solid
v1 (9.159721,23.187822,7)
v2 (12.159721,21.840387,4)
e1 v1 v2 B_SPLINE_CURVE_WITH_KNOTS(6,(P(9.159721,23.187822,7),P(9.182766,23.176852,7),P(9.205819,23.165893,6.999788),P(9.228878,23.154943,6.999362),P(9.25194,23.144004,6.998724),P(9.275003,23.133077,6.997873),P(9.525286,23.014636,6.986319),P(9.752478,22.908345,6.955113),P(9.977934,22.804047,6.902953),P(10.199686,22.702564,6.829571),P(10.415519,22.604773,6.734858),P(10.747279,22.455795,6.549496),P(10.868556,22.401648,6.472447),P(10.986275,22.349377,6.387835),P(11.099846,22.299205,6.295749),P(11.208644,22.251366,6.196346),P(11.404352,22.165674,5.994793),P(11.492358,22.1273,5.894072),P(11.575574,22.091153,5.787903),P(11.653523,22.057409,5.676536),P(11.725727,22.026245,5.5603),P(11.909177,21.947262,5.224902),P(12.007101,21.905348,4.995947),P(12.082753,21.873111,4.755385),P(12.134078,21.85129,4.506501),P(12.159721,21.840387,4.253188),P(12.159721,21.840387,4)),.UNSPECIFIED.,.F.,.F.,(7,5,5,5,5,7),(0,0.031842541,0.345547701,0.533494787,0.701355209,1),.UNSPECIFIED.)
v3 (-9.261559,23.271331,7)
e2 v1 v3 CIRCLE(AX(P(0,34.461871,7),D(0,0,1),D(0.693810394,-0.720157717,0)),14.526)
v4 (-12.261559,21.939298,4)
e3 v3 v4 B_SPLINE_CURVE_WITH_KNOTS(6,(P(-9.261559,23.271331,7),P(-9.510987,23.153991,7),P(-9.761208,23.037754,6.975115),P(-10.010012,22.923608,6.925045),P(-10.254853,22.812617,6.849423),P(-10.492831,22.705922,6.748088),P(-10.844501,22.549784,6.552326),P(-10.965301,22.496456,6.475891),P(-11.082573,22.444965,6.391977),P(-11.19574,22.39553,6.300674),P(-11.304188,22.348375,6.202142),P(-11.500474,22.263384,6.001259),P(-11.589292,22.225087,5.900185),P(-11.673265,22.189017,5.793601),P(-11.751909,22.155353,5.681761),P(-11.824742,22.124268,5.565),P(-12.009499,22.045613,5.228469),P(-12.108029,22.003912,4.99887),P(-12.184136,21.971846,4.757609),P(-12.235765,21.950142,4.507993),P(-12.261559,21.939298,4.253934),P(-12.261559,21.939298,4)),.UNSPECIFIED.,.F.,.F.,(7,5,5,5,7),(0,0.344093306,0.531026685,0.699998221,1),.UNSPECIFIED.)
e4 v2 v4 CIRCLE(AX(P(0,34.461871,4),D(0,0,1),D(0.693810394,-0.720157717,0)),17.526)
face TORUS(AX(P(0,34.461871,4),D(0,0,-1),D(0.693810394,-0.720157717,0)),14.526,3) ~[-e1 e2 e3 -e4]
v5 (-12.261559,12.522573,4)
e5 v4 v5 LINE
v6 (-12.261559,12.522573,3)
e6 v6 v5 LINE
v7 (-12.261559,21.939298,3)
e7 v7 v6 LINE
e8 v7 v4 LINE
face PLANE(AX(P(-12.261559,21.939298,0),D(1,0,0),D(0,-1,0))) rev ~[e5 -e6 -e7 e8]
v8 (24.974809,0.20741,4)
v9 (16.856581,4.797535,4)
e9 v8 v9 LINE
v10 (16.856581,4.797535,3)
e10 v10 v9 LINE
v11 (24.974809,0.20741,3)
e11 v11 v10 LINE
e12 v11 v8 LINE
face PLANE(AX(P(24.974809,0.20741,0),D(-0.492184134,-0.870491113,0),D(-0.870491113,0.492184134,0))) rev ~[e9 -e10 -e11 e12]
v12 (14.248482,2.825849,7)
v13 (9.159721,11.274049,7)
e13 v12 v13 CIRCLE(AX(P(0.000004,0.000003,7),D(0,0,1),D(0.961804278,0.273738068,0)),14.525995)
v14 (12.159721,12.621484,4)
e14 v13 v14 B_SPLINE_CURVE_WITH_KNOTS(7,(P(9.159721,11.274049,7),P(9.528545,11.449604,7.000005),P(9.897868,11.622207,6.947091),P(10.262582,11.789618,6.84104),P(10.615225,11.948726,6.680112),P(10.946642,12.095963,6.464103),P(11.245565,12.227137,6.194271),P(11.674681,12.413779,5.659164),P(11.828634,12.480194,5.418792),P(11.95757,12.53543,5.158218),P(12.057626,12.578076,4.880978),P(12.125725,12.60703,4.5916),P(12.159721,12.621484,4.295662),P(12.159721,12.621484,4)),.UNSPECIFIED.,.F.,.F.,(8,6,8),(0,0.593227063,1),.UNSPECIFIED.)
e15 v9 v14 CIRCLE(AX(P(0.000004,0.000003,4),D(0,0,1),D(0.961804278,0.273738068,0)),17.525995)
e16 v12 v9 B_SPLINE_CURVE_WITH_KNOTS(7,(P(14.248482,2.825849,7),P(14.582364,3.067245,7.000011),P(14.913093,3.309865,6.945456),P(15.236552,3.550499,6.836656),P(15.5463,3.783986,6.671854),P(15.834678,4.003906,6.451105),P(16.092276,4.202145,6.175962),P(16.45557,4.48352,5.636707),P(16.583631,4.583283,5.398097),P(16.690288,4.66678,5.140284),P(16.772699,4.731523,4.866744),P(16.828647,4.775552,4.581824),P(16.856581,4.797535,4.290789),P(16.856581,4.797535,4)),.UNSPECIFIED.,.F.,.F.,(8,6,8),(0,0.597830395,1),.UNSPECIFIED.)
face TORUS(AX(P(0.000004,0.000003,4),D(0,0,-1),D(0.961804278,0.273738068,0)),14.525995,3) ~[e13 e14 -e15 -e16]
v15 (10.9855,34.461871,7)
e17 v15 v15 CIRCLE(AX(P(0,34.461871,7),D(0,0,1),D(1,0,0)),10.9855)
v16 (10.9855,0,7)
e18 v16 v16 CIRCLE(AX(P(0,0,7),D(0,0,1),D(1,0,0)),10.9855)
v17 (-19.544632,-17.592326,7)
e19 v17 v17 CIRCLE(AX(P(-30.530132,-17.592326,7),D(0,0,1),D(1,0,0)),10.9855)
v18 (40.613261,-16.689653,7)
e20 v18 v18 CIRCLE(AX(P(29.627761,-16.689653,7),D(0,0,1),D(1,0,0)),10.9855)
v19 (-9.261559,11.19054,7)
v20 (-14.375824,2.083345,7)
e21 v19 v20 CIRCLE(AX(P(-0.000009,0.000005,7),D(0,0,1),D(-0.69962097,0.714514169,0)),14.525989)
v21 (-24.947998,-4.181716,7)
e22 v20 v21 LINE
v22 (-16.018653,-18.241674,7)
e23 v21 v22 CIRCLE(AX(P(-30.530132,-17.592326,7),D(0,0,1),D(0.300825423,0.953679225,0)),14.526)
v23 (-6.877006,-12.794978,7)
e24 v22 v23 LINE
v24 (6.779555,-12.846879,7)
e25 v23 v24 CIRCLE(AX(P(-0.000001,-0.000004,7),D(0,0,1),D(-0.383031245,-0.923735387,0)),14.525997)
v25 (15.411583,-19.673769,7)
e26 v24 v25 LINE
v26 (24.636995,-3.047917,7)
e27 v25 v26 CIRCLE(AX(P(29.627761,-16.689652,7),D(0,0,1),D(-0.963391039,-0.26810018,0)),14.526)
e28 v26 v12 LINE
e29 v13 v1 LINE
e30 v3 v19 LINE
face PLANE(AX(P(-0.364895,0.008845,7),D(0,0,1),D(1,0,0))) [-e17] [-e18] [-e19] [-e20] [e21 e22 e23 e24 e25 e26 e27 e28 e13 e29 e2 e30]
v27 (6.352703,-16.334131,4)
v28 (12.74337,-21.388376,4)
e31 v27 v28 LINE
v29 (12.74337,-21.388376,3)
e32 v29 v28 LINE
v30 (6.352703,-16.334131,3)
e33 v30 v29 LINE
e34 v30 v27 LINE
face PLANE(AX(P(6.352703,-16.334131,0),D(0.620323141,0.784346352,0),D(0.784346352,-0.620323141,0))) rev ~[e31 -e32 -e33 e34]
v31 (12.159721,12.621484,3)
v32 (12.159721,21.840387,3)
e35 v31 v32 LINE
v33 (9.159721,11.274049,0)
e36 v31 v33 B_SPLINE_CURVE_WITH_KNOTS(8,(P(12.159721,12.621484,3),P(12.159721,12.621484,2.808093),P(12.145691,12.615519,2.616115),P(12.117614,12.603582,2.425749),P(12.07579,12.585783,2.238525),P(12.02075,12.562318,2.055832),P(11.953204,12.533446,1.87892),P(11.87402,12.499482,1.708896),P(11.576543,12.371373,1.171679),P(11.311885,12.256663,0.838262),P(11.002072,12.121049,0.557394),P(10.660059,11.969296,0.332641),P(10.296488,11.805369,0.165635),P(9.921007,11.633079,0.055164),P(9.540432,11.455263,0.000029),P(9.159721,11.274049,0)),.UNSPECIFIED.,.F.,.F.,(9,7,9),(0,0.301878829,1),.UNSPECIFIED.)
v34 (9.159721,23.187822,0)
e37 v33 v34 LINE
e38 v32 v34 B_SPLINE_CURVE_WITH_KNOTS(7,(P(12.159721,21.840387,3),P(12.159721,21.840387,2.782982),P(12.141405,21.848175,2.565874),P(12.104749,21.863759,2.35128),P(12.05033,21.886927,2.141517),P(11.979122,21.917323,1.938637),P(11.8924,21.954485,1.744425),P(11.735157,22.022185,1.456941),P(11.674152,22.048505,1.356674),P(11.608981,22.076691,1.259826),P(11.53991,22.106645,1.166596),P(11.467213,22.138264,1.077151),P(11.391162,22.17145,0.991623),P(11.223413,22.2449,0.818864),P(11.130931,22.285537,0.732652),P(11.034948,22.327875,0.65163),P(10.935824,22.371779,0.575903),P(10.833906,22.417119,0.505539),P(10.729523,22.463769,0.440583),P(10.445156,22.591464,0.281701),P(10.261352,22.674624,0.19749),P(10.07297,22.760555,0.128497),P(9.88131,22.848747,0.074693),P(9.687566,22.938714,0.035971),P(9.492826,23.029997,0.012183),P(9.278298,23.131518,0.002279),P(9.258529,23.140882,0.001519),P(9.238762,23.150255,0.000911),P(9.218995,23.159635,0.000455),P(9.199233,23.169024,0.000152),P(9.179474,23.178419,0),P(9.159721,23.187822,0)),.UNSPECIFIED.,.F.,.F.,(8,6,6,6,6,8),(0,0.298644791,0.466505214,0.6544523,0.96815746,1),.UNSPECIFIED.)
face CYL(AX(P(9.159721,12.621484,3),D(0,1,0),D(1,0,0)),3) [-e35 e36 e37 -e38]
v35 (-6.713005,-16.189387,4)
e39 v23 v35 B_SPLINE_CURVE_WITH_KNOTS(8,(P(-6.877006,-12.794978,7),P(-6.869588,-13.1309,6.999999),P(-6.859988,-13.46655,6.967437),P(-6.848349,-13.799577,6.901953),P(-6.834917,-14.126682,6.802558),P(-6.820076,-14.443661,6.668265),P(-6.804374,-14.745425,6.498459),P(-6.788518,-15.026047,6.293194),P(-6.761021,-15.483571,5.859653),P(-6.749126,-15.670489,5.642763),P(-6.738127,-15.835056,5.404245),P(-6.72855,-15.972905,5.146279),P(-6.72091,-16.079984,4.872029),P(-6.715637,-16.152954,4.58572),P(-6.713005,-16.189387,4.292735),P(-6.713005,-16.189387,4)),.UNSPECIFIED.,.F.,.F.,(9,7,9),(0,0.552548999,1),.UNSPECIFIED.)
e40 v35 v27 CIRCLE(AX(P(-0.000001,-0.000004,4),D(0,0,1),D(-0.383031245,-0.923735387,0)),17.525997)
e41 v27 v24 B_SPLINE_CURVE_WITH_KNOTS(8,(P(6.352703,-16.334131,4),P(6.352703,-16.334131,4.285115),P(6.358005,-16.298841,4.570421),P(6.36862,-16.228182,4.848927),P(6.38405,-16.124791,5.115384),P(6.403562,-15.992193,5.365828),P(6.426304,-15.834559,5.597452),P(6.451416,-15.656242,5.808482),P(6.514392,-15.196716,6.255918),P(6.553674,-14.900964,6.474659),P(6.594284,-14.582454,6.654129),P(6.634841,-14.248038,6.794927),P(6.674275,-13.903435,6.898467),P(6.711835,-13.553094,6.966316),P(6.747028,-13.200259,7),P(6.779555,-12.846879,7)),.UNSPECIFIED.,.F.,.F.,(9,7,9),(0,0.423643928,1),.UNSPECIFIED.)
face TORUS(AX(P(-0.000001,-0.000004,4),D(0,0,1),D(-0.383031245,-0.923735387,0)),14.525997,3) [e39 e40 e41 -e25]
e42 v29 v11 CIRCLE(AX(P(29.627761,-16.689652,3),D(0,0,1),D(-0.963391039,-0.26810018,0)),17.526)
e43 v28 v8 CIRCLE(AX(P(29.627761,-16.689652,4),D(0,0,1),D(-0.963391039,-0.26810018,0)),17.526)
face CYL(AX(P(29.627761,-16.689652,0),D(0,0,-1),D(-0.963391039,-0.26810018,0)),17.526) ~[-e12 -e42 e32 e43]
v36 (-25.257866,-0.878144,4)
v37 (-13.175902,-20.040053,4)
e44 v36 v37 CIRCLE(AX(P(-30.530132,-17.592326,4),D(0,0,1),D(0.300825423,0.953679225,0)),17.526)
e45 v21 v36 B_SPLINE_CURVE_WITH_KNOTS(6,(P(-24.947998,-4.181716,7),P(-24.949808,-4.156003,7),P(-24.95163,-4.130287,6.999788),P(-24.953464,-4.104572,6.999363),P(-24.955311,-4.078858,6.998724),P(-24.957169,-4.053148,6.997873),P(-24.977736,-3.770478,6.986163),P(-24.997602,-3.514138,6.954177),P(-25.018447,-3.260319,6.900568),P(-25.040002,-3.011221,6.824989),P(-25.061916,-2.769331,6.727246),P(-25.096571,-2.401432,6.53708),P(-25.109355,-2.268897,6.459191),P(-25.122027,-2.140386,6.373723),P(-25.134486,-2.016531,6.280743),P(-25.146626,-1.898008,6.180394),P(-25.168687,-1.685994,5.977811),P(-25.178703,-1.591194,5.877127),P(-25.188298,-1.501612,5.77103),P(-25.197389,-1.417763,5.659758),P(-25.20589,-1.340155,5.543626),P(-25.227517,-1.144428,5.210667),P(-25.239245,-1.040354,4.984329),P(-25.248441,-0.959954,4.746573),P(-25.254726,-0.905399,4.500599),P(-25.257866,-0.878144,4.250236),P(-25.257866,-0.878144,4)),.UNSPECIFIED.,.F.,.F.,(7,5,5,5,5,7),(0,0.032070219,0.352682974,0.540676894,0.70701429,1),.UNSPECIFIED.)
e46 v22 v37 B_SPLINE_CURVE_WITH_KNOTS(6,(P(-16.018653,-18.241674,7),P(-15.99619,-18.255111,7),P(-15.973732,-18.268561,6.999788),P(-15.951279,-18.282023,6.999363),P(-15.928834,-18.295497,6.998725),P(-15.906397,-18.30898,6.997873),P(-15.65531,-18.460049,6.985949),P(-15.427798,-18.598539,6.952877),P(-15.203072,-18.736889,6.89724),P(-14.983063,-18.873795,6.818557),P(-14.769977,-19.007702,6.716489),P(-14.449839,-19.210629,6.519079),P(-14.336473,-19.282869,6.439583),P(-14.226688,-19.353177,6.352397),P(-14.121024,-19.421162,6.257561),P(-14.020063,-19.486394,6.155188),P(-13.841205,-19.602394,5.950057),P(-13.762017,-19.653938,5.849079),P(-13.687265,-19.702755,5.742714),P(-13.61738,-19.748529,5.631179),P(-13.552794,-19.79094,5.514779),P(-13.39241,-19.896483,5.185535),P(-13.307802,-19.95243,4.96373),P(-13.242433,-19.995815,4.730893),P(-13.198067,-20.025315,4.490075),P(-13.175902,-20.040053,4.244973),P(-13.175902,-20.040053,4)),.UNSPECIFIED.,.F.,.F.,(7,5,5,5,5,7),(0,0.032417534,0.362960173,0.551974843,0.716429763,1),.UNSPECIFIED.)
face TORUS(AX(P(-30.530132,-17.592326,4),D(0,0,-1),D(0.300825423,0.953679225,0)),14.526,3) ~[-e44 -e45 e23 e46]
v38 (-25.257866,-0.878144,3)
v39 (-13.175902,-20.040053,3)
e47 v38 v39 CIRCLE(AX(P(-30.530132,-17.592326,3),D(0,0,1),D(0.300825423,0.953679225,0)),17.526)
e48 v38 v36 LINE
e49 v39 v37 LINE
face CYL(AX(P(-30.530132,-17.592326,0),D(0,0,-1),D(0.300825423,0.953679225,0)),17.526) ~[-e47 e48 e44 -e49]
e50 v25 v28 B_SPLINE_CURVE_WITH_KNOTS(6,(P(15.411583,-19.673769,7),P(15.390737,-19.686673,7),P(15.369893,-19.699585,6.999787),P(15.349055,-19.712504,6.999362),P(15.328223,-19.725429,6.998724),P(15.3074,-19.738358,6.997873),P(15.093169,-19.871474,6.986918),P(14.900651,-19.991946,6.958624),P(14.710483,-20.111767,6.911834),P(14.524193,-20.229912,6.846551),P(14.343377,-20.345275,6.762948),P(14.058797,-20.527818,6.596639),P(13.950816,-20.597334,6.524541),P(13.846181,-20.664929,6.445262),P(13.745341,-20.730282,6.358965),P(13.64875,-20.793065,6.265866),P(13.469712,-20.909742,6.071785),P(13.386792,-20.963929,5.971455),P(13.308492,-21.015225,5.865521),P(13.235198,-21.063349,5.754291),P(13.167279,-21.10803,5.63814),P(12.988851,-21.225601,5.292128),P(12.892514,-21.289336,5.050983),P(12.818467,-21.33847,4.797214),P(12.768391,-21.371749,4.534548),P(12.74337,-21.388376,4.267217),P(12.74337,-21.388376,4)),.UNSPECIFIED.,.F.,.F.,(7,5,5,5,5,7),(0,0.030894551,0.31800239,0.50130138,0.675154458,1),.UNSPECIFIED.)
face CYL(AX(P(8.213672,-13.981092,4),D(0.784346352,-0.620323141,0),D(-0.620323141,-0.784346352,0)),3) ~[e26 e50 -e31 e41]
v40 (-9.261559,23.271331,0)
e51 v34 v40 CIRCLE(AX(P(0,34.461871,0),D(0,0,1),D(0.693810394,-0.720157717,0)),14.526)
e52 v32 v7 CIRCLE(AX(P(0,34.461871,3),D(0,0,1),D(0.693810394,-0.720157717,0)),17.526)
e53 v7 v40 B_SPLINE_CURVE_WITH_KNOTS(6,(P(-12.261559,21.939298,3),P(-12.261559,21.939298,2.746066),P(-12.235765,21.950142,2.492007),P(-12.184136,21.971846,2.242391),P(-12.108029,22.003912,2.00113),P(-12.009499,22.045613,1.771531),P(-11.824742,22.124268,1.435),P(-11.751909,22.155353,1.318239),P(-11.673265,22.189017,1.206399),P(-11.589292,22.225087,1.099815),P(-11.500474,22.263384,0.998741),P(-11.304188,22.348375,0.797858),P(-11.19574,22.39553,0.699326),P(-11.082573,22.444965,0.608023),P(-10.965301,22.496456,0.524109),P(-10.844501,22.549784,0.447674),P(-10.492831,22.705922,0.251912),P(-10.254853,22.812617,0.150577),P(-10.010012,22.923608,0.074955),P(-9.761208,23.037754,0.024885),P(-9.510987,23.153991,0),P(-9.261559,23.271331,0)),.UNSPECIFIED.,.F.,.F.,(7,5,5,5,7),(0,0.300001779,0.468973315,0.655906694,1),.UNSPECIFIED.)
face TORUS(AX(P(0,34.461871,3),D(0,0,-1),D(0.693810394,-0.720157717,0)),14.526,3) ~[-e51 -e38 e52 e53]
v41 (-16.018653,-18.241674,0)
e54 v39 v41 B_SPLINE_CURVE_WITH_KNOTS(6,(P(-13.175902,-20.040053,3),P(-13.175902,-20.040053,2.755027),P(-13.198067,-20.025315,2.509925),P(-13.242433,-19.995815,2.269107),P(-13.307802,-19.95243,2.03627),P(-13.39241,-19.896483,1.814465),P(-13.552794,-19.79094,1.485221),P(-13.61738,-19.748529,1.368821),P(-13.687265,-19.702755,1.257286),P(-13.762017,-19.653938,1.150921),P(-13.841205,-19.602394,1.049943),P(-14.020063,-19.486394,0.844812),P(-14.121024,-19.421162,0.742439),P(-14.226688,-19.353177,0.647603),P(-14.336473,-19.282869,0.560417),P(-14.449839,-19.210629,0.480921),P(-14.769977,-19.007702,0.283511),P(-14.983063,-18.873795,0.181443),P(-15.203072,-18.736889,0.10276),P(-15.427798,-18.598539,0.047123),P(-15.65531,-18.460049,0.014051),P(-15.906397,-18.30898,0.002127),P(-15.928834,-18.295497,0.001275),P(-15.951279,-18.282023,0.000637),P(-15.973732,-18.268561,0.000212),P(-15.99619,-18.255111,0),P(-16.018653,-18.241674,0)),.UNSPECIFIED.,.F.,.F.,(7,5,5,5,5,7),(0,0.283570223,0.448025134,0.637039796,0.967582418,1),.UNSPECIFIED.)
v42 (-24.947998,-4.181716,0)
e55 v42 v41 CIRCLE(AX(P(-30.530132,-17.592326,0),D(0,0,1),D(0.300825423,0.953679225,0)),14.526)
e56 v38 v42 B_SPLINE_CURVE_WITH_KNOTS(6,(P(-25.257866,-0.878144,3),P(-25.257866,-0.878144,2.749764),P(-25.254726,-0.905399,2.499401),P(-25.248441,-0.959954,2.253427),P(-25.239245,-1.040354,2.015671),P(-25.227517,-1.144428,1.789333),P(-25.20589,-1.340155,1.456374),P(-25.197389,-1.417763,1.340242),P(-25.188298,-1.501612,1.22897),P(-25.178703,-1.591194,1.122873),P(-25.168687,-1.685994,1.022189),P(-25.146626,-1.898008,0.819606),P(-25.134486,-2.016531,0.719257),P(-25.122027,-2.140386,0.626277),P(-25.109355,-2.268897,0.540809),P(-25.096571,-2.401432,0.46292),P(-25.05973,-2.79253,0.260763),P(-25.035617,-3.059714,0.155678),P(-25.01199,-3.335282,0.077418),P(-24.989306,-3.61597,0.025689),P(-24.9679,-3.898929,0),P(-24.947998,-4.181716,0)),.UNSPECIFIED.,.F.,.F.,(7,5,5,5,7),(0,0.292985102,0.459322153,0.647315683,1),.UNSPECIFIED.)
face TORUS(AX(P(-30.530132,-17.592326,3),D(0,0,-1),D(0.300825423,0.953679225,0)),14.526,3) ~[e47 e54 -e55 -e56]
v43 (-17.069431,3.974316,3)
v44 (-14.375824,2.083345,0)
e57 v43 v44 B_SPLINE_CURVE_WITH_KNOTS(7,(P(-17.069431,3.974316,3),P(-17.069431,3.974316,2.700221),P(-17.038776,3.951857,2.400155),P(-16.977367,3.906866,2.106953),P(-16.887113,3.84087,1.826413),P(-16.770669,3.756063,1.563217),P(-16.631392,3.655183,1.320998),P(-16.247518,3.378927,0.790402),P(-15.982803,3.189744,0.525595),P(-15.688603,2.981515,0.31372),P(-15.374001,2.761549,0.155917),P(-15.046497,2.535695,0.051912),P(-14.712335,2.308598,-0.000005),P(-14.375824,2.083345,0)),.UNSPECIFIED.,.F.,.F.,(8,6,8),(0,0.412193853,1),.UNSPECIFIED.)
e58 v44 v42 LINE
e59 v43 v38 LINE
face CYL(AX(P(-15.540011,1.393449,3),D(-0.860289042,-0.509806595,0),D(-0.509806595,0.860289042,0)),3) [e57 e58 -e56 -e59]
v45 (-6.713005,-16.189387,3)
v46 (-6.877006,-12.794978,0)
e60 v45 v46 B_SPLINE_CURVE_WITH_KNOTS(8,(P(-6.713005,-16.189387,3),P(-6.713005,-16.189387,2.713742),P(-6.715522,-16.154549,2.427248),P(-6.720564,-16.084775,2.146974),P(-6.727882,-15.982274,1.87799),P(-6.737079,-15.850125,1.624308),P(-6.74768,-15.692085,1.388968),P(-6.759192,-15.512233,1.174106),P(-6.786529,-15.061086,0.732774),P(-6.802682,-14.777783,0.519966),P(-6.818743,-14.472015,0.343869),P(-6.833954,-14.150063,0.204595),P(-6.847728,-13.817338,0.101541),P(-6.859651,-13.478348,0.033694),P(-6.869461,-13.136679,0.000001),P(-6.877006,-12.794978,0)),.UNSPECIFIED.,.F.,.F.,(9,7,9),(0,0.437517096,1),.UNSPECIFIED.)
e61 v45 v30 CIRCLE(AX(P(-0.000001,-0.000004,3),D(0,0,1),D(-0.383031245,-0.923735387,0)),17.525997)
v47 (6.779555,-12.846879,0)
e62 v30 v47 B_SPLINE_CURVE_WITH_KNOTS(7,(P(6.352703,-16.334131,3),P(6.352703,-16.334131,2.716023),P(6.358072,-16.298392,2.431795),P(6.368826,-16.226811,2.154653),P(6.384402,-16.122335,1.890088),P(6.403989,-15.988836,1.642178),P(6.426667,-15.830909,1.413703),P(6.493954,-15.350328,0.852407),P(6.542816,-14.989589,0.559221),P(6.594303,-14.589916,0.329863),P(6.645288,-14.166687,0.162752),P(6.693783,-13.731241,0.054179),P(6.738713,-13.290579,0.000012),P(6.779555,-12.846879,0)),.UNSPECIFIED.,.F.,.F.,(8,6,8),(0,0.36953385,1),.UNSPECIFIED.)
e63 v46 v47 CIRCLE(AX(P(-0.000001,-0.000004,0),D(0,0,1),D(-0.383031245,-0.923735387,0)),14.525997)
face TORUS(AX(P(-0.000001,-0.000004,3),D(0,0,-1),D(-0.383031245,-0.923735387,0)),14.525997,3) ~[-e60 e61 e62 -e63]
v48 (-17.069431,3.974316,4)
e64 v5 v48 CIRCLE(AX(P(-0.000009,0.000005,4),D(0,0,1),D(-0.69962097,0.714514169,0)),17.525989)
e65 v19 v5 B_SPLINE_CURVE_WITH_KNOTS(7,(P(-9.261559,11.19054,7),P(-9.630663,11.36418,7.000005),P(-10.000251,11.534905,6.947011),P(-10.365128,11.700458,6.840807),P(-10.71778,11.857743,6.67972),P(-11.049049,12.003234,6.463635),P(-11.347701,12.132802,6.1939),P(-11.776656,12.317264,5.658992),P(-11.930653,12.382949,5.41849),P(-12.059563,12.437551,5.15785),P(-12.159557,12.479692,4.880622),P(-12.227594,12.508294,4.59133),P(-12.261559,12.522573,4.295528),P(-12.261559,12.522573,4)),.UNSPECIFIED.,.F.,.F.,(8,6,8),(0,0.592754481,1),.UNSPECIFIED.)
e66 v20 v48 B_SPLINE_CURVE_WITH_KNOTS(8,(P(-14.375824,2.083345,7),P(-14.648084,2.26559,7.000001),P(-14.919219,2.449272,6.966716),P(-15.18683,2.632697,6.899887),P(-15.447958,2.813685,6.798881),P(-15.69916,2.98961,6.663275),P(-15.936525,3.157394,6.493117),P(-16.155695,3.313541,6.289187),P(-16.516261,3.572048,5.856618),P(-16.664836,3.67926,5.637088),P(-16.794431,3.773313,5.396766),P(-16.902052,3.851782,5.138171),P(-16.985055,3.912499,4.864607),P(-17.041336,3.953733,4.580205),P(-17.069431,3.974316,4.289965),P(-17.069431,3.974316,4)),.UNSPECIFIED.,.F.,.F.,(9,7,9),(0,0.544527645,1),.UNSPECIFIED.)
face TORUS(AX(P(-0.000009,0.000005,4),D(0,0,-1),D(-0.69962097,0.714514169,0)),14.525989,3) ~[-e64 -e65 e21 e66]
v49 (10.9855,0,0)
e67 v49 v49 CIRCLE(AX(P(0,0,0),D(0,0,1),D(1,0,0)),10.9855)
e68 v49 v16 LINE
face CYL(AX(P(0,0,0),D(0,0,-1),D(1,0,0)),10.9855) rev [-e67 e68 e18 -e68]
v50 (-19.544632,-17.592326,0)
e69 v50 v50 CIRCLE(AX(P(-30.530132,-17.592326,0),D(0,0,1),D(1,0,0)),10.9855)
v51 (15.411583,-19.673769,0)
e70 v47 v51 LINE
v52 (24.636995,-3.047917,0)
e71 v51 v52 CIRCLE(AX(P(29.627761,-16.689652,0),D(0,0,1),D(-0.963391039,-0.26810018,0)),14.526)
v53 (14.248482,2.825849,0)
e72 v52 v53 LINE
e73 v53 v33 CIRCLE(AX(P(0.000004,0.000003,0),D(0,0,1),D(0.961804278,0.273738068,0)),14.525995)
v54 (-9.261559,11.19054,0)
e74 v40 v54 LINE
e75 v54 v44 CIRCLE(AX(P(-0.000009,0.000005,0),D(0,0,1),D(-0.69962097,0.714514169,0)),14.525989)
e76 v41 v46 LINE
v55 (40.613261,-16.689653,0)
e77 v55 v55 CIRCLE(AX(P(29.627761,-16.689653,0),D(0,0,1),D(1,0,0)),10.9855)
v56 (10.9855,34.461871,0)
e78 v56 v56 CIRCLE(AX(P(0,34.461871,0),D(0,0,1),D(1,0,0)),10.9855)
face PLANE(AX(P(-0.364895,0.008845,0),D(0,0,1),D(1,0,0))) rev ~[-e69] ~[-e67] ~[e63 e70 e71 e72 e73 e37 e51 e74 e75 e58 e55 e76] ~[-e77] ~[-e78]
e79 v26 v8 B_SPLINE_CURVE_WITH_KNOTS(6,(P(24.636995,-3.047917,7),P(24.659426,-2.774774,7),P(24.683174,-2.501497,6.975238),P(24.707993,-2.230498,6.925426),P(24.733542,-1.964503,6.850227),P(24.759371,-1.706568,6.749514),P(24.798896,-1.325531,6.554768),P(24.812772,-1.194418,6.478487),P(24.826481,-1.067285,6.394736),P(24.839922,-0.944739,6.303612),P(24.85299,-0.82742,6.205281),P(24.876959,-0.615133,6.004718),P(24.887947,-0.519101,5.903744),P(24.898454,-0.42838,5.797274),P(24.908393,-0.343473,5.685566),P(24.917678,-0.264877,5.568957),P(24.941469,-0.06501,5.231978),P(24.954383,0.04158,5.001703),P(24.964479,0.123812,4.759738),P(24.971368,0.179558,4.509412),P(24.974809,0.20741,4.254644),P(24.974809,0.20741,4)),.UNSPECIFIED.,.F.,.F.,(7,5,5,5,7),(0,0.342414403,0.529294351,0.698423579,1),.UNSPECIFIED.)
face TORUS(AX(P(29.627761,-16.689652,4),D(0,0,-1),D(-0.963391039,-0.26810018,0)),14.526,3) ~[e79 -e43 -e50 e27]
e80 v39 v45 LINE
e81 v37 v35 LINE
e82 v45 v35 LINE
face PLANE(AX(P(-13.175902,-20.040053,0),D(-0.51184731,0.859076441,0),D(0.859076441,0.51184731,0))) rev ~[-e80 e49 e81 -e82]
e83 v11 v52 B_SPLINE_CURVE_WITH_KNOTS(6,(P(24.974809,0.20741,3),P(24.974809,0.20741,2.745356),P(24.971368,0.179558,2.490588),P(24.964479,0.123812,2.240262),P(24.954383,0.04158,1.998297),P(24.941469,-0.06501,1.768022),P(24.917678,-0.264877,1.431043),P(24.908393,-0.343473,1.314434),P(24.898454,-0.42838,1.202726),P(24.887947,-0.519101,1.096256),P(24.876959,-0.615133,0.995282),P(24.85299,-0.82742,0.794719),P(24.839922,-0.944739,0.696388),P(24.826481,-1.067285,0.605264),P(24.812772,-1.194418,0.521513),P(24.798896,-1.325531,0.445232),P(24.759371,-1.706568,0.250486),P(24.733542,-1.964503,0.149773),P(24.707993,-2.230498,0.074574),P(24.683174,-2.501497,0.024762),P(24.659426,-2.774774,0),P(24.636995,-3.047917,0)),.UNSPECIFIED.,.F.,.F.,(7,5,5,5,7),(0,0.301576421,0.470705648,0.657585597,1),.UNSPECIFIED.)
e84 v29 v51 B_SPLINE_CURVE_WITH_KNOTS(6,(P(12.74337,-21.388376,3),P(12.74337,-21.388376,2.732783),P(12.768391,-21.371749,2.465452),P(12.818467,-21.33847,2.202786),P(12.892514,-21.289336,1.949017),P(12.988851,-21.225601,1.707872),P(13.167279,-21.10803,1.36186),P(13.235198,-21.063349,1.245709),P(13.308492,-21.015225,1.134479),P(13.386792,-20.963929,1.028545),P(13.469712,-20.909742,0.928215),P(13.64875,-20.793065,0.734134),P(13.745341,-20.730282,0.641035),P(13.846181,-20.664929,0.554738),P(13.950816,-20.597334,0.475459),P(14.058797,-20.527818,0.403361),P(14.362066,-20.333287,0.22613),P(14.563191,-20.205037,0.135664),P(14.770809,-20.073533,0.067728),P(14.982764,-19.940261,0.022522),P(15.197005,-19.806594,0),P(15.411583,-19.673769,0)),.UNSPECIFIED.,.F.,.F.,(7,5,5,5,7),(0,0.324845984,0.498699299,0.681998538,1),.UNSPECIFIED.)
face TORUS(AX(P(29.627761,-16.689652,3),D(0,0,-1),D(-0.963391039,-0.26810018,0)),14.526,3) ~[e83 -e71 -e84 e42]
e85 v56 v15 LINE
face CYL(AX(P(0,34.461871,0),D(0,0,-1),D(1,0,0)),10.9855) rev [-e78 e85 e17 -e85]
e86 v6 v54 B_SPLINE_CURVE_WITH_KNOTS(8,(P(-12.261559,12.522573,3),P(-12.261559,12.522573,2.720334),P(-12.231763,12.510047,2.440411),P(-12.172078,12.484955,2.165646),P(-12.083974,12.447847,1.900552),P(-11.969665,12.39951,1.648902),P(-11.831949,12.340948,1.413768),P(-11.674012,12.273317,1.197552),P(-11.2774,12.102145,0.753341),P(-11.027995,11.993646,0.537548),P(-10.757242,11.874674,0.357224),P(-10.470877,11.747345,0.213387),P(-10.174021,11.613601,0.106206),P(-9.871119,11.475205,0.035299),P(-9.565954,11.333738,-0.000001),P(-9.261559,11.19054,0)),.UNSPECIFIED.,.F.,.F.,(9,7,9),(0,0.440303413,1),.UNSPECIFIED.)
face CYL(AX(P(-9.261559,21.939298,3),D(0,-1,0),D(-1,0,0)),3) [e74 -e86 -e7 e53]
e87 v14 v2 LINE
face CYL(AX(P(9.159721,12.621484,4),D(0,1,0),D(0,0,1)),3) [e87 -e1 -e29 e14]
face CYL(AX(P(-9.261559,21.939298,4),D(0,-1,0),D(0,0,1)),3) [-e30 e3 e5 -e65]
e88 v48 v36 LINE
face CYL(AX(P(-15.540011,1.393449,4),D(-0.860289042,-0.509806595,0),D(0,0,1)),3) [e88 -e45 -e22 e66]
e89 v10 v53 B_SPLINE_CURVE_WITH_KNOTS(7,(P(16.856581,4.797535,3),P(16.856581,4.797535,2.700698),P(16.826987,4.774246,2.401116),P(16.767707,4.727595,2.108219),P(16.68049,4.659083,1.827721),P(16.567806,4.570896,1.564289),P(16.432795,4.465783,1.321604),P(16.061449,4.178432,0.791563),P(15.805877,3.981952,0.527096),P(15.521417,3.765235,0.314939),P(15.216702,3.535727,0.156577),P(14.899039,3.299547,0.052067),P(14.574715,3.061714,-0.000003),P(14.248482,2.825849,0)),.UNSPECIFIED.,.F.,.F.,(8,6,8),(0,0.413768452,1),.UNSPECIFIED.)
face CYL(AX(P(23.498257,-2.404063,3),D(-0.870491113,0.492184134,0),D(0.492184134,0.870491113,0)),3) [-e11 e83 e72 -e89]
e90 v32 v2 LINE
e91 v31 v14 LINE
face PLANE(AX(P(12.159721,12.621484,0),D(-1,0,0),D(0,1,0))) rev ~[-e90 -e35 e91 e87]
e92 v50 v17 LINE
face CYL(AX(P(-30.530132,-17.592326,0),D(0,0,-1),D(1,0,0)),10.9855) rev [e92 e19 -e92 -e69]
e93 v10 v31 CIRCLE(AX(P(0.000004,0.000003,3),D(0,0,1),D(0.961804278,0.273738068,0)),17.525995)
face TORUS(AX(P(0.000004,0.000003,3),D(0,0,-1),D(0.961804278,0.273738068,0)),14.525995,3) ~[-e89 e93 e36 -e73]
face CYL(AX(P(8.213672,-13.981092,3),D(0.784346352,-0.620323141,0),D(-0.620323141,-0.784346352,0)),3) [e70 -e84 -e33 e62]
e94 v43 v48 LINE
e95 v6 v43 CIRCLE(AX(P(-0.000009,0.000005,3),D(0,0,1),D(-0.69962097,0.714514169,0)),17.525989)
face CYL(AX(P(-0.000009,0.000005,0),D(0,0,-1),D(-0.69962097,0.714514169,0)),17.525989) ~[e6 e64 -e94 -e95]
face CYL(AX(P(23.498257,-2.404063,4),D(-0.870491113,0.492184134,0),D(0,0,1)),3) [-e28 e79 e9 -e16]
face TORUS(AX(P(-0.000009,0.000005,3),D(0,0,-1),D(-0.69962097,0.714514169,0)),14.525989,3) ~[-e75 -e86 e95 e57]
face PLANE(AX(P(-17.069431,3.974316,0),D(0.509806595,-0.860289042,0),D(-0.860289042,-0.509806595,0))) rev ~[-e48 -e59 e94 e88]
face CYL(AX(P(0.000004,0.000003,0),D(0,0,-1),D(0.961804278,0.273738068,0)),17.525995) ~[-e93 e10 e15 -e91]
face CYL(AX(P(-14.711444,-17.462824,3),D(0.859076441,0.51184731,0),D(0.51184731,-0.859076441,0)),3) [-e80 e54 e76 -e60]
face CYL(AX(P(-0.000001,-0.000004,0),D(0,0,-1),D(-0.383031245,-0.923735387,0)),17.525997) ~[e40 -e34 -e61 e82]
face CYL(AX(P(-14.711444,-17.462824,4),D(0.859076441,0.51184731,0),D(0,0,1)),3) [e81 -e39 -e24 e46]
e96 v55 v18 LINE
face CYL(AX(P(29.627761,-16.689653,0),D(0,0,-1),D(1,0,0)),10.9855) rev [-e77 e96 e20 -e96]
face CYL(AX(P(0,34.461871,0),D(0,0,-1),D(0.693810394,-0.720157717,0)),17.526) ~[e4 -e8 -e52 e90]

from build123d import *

# Parameters (mm, degrees)
F0_R     = 10.9855
F1_DEPTH = 7
F2_R     = 3
F3_R     = 3


with BuildPart() as f1:
    # F0 (on Top) → F1 (new body)
    with BuildSketch(Plane.XY):
        with BuildLine():
            Line((6.352703, -16.334131), (12.74337, -21.388376))
            ThreePointArc((12.74337, -21.388376), (44.877639, -25.326892), (24.974809, 0.20741))
            Line((24.974809, 0.20741), (16.856581, 4.797535))
            ThreePointArc((16.856581, 4.797535), (15.02631, 9.02057), (12.159721, 12.621484))
            Line((12.159721, 12.621484), (12.159721, 21.840387))
            ThreePointArc((12.159721, 21.840387), (0.070983, 51.987727), (-12.261559, 21.939298))
            Line((-12.261559, 21.939298), (-12.261559, 12.522573))
            ThreePointArc((-12.261559, 12.522573), (-15.275632, 8.591609), (-17.069431, 3.974316))
            Line((-17.069431, 3.974316), (-25.257866, -0.878144))
            ThreePointArc((-25.257866, -0.878144), (-45.355256, -26.93986), (-13.175902, -20.040053))
            Line((-13.175902, -20.040053), (-6.713005, -16.189387))
            ThreePointArc((-6.713005, -16.189387), (-0.194145, -17.524925), (6.352703, -16.334131))
        make_face()
        with Locations((-30.530132, -17.592326)):
            Circle(F0_R, mode=Mode.SUBTRACT)
        with Locations((29.627761, -16.689653)):
            Circle(F0_R, mode=Mode.SUBTRACT)
        Circle(F0_R, mode=Mode.SUBTRACT)
        with Locations((0, 34.461871)):
            Circle(F0_R, mode=Mode.SUBTRACT)
    extrude(amount=F1_DEPTH)

    # F2
    f2_edges = [f1.edges().sort_by_distance(p)[0] for p in [
        (0.070983, 51.987727, 0),
        (12.159721, 17.230935, 0),
        (15.02631, 9.02057, 0),
        (20.915695, 2.502472, 0),
        (44.877639, -25.326892, 0),
        (9.548036, -18.861254, 0),
        (-0.194145, -17.524925, 0),
        (-9.944453, -18.11472, 0),
        (-45.355256, -26.93986, 0),
        (-21.163649, 1.548086, 0),
        (-15.275632, 8.591609, 0),
        (-12.261559, 17.230935, 0),
    ]]
    fillet(f2_edges, radius=F2_R)

    # F3
    f3_edges = [f1.edges().sort_by_distance(p)[0] for p in [
        (0.070983, 51.987727, 7),
        (-12.261559, 17.230935, 7),
        (-15.275632, 8.591609, 7),
        (-21.163649, 1.548086, 7),
        (-45.355256, -26.93986, 7),
        (-9.944453, -18.11472, 7),
        (-0.194145, -17.524925, 7),
        (44.877639, -25.326892, 7),
        (9.548036, -18.861254, 7),
        (20.915695, 2.502472, 7),
        (15.02631, 9.02057, 7),
        (12.159721, 17.230935, 7),
    ]]
    fillet(f3_edges, radius=F3_R)


solid = f1.part
